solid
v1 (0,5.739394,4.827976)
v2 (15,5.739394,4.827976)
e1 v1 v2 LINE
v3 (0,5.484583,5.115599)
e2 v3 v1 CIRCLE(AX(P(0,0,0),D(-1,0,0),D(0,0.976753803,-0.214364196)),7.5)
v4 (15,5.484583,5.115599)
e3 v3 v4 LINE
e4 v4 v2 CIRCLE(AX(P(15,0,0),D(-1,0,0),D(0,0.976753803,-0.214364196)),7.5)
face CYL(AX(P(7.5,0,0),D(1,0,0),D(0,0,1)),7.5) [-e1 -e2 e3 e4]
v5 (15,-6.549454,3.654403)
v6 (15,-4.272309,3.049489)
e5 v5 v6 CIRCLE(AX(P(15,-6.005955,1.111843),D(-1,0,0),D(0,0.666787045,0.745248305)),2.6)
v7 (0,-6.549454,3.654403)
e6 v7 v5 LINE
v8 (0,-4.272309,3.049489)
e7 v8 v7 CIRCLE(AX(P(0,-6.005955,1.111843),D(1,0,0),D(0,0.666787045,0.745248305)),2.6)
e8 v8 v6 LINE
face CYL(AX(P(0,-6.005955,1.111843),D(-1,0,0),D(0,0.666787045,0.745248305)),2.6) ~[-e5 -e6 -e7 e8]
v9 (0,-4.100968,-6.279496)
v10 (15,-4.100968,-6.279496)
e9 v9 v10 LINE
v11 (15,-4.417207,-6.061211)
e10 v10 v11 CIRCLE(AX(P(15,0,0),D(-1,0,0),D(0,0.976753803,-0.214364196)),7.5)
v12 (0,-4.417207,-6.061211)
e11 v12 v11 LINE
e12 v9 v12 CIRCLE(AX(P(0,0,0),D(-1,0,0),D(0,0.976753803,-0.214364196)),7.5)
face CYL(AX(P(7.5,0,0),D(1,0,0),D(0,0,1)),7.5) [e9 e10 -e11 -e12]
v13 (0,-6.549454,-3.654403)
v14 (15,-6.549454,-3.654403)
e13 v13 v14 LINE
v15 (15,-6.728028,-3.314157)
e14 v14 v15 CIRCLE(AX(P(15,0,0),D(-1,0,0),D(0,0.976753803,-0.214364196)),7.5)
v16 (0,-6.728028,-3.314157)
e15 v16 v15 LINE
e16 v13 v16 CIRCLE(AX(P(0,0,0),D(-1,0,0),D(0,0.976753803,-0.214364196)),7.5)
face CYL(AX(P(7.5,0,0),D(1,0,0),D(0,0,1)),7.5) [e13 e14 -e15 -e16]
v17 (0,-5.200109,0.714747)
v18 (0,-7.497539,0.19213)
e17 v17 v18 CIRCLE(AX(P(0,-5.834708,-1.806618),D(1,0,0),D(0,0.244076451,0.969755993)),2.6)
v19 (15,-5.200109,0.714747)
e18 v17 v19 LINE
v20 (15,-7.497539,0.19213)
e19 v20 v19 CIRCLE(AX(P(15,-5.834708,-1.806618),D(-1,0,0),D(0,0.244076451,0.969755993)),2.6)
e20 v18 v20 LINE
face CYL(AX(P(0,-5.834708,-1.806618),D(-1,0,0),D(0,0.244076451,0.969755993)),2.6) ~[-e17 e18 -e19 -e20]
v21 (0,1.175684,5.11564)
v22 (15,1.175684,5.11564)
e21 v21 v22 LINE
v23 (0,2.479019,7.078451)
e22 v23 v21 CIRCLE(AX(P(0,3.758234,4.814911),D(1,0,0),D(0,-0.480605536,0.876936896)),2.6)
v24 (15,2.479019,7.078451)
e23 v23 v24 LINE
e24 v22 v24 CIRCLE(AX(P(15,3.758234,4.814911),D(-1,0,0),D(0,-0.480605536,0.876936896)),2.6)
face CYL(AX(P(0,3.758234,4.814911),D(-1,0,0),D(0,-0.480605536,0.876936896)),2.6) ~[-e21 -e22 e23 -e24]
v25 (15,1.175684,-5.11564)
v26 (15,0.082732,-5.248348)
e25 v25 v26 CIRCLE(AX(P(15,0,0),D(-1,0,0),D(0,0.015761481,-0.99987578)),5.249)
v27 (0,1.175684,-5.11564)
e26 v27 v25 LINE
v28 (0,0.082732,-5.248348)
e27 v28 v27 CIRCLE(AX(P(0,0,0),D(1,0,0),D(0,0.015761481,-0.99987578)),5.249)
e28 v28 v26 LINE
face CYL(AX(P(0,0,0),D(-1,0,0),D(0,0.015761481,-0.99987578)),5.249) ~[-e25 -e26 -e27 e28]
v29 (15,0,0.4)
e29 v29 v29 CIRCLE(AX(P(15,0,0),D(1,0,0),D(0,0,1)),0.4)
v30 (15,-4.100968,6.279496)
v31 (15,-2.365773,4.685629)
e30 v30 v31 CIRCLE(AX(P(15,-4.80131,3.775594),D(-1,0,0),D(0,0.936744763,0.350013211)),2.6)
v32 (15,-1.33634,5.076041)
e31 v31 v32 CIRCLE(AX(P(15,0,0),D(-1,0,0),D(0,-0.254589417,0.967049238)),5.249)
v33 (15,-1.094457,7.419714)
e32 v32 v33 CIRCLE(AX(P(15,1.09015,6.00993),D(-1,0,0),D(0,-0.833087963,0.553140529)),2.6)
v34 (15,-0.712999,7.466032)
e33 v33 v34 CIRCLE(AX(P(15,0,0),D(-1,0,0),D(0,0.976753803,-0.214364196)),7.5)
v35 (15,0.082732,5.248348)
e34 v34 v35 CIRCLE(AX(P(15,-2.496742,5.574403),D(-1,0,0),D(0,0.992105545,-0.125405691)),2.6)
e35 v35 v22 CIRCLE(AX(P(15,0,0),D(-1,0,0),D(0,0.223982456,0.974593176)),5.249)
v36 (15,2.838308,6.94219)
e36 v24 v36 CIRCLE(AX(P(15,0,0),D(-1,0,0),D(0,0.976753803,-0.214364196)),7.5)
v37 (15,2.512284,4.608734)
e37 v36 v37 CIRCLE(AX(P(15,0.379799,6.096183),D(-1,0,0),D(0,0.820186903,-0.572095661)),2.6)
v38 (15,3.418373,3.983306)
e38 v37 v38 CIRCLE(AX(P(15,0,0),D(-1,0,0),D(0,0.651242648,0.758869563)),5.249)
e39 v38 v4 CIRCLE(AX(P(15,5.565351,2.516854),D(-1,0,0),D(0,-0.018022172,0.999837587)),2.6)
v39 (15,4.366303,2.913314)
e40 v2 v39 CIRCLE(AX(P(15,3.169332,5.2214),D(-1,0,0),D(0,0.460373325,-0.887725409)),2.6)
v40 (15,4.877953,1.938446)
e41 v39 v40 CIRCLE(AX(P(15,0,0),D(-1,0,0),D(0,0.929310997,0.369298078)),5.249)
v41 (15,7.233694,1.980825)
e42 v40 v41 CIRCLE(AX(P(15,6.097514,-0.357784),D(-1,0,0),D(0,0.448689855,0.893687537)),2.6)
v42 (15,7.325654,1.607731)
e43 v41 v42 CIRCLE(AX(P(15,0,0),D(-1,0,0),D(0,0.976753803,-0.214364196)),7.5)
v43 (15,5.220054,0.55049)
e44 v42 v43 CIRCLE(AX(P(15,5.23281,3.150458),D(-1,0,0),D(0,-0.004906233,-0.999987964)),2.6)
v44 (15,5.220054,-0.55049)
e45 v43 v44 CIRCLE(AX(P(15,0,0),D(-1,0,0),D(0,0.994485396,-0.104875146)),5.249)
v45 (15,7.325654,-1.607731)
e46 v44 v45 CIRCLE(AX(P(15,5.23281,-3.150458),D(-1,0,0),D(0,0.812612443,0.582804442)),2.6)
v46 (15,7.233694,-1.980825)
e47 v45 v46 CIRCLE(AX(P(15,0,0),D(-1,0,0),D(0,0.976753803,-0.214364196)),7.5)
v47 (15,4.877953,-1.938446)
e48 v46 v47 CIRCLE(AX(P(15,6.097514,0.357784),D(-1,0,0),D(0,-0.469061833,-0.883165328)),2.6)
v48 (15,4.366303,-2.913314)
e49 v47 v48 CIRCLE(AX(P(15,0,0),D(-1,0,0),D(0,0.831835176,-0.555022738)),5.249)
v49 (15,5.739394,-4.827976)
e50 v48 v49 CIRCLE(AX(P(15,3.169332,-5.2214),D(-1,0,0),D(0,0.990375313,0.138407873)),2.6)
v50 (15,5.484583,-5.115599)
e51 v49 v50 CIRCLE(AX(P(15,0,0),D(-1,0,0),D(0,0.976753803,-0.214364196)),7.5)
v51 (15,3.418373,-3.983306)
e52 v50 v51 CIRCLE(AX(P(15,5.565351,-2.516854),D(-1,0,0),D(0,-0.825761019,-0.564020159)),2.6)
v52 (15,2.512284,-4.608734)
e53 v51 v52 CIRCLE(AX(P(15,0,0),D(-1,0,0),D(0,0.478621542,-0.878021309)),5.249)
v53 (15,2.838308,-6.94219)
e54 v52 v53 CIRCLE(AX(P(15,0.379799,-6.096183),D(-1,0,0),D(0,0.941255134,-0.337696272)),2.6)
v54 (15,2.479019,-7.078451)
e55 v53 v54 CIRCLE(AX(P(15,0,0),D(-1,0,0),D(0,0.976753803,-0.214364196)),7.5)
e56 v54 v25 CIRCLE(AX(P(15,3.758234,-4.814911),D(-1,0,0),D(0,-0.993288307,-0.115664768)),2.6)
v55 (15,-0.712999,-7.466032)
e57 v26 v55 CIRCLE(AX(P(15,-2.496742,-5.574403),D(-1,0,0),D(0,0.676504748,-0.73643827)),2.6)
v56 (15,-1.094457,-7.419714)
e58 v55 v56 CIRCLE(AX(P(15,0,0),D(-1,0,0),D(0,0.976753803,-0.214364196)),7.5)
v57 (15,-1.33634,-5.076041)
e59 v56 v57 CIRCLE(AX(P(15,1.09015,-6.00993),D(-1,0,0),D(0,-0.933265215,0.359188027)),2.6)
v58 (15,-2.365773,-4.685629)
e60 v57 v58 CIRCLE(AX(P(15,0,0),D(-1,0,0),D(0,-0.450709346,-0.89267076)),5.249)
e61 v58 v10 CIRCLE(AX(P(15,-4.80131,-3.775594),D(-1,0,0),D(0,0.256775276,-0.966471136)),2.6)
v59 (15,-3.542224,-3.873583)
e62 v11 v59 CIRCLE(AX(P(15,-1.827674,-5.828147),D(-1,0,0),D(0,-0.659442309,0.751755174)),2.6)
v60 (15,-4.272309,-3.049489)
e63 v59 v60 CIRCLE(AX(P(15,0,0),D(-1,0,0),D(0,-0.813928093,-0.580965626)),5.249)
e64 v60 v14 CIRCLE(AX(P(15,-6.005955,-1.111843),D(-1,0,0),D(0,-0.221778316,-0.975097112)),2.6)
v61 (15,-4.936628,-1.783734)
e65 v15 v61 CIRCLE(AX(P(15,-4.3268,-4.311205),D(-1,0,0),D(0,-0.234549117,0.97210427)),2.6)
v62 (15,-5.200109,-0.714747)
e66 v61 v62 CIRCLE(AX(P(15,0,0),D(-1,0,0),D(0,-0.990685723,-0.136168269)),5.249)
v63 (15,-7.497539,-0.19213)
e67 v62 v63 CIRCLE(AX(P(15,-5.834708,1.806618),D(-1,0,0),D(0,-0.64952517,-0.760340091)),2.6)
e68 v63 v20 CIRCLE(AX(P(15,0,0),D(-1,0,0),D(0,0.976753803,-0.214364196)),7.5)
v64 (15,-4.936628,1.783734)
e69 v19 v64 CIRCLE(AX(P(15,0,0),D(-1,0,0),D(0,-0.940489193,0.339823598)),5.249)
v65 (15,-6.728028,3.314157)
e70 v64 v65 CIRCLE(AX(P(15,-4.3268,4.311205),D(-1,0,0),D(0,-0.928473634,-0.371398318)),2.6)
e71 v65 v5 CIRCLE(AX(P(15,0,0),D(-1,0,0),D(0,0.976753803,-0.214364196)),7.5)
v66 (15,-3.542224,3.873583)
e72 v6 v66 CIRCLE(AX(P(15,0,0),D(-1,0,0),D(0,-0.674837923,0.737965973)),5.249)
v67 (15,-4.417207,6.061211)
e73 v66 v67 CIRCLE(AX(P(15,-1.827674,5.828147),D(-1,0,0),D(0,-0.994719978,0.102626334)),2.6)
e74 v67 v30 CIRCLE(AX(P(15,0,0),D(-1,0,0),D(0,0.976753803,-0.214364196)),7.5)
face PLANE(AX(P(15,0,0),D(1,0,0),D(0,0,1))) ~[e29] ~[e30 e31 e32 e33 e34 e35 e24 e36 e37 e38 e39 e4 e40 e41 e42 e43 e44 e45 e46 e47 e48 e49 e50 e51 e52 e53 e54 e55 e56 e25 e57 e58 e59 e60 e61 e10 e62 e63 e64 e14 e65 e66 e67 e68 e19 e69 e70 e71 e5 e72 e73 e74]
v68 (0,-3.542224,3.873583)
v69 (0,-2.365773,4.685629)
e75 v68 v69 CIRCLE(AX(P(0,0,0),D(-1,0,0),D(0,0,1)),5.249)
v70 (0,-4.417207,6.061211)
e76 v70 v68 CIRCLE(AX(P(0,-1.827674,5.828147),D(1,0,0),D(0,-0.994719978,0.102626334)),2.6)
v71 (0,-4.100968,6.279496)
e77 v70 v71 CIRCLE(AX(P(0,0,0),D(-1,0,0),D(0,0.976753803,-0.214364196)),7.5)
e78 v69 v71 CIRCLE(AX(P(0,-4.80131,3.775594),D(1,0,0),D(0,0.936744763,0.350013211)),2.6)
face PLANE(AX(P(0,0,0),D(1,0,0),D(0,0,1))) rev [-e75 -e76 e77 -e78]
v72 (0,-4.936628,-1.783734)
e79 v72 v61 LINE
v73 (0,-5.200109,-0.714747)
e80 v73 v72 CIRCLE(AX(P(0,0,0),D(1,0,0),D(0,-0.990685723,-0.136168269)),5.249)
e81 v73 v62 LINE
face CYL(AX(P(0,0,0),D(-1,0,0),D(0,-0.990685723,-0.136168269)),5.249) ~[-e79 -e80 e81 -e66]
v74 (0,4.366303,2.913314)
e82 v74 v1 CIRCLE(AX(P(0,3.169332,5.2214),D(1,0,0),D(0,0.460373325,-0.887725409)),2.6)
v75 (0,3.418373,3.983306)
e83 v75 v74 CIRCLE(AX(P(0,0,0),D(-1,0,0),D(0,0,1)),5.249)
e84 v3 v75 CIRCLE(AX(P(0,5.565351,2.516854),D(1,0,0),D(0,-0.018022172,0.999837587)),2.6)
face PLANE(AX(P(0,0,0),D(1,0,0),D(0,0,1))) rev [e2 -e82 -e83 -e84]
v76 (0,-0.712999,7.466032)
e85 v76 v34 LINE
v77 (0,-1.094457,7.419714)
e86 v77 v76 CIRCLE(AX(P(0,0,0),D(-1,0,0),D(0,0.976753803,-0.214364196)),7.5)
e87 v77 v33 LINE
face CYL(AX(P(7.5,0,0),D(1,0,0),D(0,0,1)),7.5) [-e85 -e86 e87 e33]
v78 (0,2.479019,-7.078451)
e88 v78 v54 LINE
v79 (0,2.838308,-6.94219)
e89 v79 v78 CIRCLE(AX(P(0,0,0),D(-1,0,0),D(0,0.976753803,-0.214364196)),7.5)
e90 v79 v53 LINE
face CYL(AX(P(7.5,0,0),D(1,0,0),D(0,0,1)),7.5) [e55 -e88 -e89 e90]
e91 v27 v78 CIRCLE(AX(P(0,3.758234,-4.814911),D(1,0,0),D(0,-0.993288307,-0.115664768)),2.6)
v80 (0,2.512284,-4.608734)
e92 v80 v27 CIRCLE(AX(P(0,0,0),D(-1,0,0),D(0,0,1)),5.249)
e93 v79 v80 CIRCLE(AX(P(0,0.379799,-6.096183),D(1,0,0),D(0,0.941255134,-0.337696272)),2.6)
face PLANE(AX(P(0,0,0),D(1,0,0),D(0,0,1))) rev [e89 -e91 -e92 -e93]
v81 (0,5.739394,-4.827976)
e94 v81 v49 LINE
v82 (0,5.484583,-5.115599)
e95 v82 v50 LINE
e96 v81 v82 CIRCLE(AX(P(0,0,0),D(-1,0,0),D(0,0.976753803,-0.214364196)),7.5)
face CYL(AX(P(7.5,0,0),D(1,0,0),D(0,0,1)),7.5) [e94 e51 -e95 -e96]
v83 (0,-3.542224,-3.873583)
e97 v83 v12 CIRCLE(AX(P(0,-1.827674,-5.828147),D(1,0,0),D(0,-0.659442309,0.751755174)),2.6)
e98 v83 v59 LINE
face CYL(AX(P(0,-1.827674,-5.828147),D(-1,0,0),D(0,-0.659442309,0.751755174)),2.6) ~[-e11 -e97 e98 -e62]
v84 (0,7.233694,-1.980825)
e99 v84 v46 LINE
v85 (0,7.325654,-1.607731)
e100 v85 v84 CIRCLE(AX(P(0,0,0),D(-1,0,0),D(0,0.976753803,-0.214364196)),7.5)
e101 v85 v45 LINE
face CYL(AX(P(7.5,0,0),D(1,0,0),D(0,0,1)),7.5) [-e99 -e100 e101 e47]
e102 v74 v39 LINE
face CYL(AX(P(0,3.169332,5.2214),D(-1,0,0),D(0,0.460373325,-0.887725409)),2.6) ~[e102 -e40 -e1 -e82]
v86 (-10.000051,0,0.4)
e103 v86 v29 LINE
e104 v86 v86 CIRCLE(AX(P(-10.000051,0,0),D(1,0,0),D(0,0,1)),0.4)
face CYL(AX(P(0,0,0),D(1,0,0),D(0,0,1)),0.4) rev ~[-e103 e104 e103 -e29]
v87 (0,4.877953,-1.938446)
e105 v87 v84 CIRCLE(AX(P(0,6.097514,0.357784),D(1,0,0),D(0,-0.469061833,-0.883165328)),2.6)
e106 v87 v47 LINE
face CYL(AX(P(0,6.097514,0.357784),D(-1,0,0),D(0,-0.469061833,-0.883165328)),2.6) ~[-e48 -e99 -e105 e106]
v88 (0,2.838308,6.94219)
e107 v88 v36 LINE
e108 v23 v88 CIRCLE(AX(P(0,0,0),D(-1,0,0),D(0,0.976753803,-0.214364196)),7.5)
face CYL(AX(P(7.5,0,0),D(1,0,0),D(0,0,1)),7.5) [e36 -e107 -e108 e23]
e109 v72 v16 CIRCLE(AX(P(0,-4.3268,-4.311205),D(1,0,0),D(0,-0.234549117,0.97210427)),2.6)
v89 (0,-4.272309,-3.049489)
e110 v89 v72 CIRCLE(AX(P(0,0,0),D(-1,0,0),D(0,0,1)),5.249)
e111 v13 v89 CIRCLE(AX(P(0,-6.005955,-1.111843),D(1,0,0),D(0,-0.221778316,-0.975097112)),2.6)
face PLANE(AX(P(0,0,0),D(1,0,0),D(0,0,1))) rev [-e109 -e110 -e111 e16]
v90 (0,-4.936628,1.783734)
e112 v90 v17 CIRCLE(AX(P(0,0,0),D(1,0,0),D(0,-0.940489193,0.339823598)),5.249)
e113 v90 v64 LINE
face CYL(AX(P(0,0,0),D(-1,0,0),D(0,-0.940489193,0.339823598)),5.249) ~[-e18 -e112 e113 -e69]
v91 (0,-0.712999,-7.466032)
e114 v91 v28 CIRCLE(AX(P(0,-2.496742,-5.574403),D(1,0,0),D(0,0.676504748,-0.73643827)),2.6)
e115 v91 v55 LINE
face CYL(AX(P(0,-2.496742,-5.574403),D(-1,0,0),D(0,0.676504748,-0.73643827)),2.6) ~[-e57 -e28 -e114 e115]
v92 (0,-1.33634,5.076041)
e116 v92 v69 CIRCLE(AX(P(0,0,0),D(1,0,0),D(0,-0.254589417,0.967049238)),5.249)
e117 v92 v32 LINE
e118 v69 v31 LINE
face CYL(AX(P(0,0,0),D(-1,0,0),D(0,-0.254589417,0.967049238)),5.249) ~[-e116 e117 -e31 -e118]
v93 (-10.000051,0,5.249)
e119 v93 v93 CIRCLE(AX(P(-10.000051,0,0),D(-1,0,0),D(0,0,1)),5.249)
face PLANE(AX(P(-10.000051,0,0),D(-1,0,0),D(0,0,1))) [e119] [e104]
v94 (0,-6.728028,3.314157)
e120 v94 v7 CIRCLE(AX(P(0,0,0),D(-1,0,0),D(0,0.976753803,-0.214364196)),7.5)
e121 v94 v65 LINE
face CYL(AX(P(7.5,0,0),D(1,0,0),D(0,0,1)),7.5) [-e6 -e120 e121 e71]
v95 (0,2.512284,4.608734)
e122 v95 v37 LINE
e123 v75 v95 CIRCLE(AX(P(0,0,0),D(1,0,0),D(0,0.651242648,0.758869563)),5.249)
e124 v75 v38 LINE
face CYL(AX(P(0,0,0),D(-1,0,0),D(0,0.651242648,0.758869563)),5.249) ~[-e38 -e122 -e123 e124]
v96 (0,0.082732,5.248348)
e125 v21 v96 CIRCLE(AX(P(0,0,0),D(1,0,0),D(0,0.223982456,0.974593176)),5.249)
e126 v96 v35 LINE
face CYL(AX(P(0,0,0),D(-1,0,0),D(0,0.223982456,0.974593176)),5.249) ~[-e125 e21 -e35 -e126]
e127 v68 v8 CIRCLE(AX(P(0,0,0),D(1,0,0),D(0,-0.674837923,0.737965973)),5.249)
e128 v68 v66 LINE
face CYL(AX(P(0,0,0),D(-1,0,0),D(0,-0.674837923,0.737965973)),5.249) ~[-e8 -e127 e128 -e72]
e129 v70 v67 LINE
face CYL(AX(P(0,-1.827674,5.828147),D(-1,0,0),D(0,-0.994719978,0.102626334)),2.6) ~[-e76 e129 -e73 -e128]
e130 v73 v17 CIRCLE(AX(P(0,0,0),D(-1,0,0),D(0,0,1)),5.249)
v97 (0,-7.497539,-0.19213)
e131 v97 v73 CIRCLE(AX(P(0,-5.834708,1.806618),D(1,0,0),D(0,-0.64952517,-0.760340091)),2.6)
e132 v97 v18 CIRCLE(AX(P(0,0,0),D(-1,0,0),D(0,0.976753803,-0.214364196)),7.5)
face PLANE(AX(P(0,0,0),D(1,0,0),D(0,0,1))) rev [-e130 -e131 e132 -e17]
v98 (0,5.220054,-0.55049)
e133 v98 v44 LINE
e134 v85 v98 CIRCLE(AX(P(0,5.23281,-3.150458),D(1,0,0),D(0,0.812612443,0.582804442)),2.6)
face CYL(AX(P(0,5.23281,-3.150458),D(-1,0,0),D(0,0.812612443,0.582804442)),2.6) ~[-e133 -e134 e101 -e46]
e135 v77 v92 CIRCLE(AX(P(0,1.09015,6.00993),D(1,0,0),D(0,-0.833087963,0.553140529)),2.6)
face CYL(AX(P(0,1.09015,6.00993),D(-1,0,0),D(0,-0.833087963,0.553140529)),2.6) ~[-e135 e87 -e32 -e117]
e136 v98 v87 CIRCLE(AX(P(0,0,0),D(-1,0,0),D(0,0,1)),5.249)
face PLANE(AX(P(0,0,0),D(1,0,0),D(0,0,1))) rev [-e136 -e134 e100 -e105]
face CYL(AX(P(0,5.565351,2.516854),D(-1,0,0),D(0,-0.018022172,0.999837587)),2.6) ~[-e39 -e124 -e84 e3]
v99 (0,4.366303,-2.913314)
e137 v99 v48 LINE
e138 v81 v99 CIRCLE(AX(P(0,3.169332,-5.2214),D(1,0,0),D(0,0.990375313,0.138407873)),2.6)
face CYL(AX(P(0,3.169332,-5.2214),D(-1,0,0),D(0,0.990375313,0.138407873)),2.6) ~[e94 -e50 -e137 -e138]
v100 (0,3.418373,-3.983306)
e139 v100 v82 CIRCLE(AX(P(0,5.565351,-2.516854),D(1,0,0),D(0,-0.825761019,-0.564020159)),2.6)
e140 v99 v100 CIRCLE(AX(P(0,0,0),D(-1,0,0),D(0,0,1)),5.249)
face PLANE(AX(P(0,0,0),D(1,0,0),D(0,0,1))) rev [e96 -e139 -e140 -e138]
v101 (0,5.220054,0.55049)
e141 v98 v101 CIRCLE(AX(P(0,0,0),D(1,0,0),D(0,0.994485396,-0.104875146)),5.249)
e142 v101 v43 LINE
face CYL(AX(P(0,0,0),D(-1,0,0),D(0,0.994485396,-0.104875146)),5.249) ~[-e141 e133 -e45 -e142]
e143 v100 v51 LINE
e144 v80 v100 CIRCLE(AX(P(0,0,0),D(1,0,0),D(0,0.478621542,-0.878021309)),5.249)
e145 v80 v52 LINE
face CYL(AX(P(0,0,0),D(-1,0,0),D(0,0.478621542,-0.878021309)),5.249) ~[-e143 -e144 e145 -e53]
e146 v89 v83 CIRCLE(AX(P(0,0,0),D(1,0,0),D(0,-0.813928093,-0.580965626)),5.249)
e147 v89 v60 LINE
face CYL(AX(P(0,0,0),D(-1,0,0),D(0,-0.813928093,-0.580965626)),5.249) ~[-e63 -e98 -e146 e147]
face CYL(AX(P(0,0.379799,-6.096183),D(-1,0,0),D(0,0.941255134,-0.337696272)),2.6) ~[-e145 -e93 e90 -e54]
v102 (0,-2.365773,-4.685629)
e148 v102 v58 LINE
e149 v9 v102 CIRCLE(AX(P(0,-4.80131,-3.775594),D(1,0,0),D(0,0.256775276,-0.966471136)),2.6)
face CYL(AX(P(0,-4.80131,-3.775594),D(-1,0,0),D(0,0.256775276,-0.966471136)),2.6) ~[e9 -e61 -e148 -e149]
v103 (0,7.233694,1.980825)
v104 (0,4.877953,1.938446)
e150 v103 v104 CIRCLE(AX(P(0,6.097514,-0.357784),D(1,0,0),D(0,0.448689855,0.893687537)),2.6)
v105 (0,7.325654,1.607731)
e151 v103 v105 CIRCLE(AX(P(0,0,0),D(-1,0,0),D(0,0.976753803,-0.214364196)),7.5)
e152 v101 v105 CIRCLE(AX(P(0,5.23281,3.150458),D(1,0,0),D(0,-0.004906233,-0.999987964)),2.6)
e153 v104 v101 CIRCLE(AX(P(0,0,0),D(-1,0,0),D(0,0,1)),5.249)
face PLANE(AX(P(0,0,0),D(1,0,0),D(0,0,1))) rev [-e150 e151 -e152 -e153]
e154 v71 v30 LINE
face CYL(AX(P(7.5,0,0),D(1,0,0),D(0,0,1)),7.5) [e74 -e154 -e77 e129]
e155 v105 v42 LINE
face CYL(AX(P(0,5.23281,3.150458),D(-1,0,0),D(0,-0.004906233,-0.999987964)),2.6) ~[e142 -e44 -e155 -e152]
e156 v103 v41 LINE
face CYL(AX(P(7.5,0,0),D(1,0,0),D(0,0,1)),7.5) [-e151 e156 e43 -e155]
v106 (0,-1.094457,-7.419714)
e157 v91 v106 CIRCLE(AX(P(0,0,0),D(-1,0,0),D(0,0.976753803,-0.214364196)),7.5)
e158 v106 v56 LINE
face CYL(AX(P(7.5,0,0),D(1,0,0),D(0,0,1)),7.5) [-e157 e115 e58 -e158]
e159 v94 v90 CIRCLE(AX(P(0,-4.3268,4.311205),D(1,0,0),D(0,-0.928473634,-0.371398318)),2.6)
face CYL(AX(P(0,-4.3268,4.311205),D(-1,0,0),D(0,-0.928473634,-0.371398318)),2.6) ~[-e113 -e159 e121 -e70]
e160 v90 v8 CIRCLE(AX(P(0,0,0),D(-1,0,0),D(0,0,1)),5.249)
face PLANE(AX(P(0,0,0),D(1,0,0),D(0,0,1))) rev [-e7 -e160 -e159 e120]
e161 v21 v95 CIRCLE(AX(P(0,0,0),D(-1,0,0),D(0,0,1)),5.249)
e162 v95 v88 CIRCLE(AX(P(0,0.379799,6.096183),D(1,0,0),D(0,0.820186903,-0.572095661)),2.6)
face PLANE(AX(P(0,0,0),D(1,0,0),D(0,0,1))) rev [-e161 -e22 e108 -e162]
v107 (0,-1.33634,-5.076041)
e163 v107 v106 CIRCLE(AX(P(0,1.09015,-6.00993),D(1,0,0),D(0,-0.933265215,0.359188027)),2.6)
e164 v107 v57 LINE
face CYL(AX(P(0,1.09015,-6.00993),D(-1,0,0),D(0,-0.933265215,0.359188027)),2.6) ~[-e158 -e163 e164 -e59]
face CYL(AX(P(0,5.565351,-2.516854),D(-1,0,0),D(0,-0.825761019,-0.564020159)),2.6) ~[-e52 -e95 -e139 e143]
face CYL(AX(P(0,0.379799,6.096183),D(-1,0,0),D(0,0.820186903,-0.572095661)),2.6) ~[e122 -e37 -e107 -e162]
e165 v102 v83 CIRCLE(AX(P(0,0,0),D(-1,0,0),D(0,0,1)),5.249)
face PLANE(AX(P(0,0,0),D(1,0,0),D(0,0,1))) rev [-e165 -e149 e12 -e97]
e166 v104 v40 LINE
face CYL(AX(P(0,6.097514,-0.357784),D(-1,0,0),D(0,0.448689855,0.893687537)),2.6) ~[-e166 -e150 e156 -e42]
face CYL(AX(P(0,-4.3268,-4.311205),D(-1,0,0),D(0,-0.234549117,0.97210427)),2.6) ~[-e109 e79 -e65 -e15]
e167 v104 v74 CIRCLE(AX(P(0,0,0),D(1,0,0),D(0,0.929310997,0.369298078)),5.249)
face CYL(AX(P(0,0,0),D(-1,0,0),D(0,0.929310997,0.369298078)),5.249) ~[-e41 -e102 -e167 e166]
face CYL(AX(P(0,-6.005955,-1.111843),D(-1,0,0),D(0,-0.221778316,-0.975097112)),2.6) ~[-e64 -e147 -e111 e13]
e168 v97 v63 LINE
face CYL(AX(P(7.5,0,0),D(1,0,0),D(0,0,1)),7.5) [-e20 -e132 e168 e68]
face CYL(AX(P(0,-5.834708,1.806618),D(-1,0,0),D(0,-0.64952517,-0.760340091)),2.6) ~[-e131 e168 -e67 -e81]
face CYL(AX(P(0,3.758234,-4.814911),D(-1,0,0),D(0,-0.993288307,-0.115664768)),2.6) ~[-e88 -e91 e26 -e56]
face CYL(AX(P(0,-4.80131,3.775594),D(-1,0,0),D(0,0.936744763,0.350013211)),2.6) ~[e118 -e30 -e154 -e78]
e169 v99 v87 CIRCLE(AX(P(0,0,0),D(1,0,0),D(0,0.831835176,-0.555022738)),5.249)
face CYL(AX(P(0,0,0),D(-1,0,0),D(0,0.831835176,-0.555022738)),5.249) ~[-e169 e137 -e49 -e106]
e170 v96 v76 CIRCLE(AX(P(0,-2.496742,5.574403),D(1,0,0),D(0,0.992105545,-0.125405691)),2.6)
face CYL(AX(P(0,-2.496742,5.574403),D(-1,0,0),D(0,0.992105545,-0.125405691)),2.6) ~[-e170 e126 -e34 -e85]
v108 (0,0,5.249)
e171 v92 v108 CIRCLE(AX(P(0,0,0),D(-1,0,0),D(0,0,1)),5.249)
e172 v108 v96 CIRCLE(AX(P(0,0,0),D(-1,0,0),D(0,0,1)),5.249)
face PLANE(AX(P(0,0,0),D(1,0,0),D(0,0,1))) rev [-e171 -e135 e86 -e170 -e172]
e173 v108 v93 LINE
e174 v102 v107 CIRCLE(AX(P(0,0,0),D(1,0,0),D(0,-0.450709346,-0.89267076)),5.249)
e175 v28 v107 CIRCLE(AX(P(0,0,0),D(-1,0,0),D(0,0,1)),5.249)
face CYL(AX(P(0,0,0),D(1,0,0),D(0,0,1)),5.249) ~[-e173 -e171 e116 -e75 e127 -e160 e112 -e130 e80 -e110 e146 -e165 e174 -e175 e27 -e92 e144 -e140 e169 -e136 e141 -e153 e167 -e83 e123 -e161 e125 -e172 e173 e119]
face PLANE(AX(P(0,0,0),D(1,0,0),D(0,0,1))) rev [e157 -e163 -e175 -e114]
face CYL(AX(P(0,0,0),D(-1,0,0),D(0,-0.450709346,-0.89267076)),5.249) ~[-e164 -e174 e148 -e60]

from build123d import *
from build123d.topology import SkipClean

# Parameters (mm, degrees)
BASPROSKE_W      = 15
BASPROSKE_H      = 7.5
TOOTHCUT_DEPTH   = 19.371173071
TEETHCUTS_COUNT  = 13
TEETHCUTS_ANGLE  = 332.307692308
HUBNEAONESKE_R   = 5.249
HUBNEARONE_DEPTH = 10.0000508
BORSKE_R         = 0.4
BORE_DEPTH       = 25.0000508


with BuildPart() as part:
    # BasProSke → Base-Revolve (revolve)
    with BuildSketch(Plane(origin=(0, 0, 0), x_dir=(1, 0, 0), z_dir=(0, 1, 0)), mode=Mode.PRIVATE) as base_revolve_sk:
        with Locations((7.5, 3.75)):
            Rectangle(BASPROSKE_W, BASPROSKE_H)
    revolve(base_revolve_sk.sketch.rotate(Axis((-10, 0, 0), (1, 0, 0)), 180), axis=Axis((-10, 0, 0), (1, 0, 0)))

    # TooCutSke → ToothCut (cut, through all)
    with BuildSketch(Plane(origin=(0, 0, 0), x_dir=(0, 0, -1), z_dir=(1, 0, 0))):
        with BuildLine():
            ThreePointArc((0.550489643, 5.220053846), (0, 5.249), (-0.550489643, 5.220053846))
            ThreePointArc((-0.550489643, 5.220053846), (-0.834571714, 6.414617604), (-1.635166801, 7.345602405))
            ThreePointArc((-1.635166801, 7.345602405), (0, 7.5254), (1.635166801, 7.345602405))
            ThreePointArc((1.635166801, 7.345602405), (0.834571714, 6.414617604), (0.550489643, 5.220053846))
        make_face()
    toothcut = extrude(amount=TOOTHCUT_DEPTH, mode=Mode.SUBTRACT)

    # TeethCuts: ToothCut ×13 about axis
    teethcuts_axis = Axis((-10, 0, 0), (1, 0, 0))
    for i in range(1, TEETHCUTS_COUNT):
        add(toothcut.rotate(teethcuts_axis, i * TEETHCUTS_ANGLE / (TEETHCUTS_COUNT - 1)), mode=Mode.SUBTRACT)

    # HubNeaOneSke → HubNearOne (add)
    with SkipClean():  # the faces are left unmerged after this step: merging them gives an invalid solid
        with BuildSketch(Plane.ZY):
            Circle(HUBNEAONESKE_R)
        extrude(amount=HUBNEARONE_DEPTH)

    # BorSke → Bore (cut, symmetric)
    with SkipClean():  # the faces are left unmerged after this step: merging them gives an invalid solid
        with BuildSketch(Plane(origin=(0, 0, 0), x_dir=(0, 0, -1), z_dir=(1, 0, 0))):
            with Locations(Location((0, 0, 0), (0, 0, 180))):
                Circle(BORSKE_R)
        extrude(amount=BORE_DEPTH, both=True, mode=Mode.SUBTRACT)


solid = part.part
